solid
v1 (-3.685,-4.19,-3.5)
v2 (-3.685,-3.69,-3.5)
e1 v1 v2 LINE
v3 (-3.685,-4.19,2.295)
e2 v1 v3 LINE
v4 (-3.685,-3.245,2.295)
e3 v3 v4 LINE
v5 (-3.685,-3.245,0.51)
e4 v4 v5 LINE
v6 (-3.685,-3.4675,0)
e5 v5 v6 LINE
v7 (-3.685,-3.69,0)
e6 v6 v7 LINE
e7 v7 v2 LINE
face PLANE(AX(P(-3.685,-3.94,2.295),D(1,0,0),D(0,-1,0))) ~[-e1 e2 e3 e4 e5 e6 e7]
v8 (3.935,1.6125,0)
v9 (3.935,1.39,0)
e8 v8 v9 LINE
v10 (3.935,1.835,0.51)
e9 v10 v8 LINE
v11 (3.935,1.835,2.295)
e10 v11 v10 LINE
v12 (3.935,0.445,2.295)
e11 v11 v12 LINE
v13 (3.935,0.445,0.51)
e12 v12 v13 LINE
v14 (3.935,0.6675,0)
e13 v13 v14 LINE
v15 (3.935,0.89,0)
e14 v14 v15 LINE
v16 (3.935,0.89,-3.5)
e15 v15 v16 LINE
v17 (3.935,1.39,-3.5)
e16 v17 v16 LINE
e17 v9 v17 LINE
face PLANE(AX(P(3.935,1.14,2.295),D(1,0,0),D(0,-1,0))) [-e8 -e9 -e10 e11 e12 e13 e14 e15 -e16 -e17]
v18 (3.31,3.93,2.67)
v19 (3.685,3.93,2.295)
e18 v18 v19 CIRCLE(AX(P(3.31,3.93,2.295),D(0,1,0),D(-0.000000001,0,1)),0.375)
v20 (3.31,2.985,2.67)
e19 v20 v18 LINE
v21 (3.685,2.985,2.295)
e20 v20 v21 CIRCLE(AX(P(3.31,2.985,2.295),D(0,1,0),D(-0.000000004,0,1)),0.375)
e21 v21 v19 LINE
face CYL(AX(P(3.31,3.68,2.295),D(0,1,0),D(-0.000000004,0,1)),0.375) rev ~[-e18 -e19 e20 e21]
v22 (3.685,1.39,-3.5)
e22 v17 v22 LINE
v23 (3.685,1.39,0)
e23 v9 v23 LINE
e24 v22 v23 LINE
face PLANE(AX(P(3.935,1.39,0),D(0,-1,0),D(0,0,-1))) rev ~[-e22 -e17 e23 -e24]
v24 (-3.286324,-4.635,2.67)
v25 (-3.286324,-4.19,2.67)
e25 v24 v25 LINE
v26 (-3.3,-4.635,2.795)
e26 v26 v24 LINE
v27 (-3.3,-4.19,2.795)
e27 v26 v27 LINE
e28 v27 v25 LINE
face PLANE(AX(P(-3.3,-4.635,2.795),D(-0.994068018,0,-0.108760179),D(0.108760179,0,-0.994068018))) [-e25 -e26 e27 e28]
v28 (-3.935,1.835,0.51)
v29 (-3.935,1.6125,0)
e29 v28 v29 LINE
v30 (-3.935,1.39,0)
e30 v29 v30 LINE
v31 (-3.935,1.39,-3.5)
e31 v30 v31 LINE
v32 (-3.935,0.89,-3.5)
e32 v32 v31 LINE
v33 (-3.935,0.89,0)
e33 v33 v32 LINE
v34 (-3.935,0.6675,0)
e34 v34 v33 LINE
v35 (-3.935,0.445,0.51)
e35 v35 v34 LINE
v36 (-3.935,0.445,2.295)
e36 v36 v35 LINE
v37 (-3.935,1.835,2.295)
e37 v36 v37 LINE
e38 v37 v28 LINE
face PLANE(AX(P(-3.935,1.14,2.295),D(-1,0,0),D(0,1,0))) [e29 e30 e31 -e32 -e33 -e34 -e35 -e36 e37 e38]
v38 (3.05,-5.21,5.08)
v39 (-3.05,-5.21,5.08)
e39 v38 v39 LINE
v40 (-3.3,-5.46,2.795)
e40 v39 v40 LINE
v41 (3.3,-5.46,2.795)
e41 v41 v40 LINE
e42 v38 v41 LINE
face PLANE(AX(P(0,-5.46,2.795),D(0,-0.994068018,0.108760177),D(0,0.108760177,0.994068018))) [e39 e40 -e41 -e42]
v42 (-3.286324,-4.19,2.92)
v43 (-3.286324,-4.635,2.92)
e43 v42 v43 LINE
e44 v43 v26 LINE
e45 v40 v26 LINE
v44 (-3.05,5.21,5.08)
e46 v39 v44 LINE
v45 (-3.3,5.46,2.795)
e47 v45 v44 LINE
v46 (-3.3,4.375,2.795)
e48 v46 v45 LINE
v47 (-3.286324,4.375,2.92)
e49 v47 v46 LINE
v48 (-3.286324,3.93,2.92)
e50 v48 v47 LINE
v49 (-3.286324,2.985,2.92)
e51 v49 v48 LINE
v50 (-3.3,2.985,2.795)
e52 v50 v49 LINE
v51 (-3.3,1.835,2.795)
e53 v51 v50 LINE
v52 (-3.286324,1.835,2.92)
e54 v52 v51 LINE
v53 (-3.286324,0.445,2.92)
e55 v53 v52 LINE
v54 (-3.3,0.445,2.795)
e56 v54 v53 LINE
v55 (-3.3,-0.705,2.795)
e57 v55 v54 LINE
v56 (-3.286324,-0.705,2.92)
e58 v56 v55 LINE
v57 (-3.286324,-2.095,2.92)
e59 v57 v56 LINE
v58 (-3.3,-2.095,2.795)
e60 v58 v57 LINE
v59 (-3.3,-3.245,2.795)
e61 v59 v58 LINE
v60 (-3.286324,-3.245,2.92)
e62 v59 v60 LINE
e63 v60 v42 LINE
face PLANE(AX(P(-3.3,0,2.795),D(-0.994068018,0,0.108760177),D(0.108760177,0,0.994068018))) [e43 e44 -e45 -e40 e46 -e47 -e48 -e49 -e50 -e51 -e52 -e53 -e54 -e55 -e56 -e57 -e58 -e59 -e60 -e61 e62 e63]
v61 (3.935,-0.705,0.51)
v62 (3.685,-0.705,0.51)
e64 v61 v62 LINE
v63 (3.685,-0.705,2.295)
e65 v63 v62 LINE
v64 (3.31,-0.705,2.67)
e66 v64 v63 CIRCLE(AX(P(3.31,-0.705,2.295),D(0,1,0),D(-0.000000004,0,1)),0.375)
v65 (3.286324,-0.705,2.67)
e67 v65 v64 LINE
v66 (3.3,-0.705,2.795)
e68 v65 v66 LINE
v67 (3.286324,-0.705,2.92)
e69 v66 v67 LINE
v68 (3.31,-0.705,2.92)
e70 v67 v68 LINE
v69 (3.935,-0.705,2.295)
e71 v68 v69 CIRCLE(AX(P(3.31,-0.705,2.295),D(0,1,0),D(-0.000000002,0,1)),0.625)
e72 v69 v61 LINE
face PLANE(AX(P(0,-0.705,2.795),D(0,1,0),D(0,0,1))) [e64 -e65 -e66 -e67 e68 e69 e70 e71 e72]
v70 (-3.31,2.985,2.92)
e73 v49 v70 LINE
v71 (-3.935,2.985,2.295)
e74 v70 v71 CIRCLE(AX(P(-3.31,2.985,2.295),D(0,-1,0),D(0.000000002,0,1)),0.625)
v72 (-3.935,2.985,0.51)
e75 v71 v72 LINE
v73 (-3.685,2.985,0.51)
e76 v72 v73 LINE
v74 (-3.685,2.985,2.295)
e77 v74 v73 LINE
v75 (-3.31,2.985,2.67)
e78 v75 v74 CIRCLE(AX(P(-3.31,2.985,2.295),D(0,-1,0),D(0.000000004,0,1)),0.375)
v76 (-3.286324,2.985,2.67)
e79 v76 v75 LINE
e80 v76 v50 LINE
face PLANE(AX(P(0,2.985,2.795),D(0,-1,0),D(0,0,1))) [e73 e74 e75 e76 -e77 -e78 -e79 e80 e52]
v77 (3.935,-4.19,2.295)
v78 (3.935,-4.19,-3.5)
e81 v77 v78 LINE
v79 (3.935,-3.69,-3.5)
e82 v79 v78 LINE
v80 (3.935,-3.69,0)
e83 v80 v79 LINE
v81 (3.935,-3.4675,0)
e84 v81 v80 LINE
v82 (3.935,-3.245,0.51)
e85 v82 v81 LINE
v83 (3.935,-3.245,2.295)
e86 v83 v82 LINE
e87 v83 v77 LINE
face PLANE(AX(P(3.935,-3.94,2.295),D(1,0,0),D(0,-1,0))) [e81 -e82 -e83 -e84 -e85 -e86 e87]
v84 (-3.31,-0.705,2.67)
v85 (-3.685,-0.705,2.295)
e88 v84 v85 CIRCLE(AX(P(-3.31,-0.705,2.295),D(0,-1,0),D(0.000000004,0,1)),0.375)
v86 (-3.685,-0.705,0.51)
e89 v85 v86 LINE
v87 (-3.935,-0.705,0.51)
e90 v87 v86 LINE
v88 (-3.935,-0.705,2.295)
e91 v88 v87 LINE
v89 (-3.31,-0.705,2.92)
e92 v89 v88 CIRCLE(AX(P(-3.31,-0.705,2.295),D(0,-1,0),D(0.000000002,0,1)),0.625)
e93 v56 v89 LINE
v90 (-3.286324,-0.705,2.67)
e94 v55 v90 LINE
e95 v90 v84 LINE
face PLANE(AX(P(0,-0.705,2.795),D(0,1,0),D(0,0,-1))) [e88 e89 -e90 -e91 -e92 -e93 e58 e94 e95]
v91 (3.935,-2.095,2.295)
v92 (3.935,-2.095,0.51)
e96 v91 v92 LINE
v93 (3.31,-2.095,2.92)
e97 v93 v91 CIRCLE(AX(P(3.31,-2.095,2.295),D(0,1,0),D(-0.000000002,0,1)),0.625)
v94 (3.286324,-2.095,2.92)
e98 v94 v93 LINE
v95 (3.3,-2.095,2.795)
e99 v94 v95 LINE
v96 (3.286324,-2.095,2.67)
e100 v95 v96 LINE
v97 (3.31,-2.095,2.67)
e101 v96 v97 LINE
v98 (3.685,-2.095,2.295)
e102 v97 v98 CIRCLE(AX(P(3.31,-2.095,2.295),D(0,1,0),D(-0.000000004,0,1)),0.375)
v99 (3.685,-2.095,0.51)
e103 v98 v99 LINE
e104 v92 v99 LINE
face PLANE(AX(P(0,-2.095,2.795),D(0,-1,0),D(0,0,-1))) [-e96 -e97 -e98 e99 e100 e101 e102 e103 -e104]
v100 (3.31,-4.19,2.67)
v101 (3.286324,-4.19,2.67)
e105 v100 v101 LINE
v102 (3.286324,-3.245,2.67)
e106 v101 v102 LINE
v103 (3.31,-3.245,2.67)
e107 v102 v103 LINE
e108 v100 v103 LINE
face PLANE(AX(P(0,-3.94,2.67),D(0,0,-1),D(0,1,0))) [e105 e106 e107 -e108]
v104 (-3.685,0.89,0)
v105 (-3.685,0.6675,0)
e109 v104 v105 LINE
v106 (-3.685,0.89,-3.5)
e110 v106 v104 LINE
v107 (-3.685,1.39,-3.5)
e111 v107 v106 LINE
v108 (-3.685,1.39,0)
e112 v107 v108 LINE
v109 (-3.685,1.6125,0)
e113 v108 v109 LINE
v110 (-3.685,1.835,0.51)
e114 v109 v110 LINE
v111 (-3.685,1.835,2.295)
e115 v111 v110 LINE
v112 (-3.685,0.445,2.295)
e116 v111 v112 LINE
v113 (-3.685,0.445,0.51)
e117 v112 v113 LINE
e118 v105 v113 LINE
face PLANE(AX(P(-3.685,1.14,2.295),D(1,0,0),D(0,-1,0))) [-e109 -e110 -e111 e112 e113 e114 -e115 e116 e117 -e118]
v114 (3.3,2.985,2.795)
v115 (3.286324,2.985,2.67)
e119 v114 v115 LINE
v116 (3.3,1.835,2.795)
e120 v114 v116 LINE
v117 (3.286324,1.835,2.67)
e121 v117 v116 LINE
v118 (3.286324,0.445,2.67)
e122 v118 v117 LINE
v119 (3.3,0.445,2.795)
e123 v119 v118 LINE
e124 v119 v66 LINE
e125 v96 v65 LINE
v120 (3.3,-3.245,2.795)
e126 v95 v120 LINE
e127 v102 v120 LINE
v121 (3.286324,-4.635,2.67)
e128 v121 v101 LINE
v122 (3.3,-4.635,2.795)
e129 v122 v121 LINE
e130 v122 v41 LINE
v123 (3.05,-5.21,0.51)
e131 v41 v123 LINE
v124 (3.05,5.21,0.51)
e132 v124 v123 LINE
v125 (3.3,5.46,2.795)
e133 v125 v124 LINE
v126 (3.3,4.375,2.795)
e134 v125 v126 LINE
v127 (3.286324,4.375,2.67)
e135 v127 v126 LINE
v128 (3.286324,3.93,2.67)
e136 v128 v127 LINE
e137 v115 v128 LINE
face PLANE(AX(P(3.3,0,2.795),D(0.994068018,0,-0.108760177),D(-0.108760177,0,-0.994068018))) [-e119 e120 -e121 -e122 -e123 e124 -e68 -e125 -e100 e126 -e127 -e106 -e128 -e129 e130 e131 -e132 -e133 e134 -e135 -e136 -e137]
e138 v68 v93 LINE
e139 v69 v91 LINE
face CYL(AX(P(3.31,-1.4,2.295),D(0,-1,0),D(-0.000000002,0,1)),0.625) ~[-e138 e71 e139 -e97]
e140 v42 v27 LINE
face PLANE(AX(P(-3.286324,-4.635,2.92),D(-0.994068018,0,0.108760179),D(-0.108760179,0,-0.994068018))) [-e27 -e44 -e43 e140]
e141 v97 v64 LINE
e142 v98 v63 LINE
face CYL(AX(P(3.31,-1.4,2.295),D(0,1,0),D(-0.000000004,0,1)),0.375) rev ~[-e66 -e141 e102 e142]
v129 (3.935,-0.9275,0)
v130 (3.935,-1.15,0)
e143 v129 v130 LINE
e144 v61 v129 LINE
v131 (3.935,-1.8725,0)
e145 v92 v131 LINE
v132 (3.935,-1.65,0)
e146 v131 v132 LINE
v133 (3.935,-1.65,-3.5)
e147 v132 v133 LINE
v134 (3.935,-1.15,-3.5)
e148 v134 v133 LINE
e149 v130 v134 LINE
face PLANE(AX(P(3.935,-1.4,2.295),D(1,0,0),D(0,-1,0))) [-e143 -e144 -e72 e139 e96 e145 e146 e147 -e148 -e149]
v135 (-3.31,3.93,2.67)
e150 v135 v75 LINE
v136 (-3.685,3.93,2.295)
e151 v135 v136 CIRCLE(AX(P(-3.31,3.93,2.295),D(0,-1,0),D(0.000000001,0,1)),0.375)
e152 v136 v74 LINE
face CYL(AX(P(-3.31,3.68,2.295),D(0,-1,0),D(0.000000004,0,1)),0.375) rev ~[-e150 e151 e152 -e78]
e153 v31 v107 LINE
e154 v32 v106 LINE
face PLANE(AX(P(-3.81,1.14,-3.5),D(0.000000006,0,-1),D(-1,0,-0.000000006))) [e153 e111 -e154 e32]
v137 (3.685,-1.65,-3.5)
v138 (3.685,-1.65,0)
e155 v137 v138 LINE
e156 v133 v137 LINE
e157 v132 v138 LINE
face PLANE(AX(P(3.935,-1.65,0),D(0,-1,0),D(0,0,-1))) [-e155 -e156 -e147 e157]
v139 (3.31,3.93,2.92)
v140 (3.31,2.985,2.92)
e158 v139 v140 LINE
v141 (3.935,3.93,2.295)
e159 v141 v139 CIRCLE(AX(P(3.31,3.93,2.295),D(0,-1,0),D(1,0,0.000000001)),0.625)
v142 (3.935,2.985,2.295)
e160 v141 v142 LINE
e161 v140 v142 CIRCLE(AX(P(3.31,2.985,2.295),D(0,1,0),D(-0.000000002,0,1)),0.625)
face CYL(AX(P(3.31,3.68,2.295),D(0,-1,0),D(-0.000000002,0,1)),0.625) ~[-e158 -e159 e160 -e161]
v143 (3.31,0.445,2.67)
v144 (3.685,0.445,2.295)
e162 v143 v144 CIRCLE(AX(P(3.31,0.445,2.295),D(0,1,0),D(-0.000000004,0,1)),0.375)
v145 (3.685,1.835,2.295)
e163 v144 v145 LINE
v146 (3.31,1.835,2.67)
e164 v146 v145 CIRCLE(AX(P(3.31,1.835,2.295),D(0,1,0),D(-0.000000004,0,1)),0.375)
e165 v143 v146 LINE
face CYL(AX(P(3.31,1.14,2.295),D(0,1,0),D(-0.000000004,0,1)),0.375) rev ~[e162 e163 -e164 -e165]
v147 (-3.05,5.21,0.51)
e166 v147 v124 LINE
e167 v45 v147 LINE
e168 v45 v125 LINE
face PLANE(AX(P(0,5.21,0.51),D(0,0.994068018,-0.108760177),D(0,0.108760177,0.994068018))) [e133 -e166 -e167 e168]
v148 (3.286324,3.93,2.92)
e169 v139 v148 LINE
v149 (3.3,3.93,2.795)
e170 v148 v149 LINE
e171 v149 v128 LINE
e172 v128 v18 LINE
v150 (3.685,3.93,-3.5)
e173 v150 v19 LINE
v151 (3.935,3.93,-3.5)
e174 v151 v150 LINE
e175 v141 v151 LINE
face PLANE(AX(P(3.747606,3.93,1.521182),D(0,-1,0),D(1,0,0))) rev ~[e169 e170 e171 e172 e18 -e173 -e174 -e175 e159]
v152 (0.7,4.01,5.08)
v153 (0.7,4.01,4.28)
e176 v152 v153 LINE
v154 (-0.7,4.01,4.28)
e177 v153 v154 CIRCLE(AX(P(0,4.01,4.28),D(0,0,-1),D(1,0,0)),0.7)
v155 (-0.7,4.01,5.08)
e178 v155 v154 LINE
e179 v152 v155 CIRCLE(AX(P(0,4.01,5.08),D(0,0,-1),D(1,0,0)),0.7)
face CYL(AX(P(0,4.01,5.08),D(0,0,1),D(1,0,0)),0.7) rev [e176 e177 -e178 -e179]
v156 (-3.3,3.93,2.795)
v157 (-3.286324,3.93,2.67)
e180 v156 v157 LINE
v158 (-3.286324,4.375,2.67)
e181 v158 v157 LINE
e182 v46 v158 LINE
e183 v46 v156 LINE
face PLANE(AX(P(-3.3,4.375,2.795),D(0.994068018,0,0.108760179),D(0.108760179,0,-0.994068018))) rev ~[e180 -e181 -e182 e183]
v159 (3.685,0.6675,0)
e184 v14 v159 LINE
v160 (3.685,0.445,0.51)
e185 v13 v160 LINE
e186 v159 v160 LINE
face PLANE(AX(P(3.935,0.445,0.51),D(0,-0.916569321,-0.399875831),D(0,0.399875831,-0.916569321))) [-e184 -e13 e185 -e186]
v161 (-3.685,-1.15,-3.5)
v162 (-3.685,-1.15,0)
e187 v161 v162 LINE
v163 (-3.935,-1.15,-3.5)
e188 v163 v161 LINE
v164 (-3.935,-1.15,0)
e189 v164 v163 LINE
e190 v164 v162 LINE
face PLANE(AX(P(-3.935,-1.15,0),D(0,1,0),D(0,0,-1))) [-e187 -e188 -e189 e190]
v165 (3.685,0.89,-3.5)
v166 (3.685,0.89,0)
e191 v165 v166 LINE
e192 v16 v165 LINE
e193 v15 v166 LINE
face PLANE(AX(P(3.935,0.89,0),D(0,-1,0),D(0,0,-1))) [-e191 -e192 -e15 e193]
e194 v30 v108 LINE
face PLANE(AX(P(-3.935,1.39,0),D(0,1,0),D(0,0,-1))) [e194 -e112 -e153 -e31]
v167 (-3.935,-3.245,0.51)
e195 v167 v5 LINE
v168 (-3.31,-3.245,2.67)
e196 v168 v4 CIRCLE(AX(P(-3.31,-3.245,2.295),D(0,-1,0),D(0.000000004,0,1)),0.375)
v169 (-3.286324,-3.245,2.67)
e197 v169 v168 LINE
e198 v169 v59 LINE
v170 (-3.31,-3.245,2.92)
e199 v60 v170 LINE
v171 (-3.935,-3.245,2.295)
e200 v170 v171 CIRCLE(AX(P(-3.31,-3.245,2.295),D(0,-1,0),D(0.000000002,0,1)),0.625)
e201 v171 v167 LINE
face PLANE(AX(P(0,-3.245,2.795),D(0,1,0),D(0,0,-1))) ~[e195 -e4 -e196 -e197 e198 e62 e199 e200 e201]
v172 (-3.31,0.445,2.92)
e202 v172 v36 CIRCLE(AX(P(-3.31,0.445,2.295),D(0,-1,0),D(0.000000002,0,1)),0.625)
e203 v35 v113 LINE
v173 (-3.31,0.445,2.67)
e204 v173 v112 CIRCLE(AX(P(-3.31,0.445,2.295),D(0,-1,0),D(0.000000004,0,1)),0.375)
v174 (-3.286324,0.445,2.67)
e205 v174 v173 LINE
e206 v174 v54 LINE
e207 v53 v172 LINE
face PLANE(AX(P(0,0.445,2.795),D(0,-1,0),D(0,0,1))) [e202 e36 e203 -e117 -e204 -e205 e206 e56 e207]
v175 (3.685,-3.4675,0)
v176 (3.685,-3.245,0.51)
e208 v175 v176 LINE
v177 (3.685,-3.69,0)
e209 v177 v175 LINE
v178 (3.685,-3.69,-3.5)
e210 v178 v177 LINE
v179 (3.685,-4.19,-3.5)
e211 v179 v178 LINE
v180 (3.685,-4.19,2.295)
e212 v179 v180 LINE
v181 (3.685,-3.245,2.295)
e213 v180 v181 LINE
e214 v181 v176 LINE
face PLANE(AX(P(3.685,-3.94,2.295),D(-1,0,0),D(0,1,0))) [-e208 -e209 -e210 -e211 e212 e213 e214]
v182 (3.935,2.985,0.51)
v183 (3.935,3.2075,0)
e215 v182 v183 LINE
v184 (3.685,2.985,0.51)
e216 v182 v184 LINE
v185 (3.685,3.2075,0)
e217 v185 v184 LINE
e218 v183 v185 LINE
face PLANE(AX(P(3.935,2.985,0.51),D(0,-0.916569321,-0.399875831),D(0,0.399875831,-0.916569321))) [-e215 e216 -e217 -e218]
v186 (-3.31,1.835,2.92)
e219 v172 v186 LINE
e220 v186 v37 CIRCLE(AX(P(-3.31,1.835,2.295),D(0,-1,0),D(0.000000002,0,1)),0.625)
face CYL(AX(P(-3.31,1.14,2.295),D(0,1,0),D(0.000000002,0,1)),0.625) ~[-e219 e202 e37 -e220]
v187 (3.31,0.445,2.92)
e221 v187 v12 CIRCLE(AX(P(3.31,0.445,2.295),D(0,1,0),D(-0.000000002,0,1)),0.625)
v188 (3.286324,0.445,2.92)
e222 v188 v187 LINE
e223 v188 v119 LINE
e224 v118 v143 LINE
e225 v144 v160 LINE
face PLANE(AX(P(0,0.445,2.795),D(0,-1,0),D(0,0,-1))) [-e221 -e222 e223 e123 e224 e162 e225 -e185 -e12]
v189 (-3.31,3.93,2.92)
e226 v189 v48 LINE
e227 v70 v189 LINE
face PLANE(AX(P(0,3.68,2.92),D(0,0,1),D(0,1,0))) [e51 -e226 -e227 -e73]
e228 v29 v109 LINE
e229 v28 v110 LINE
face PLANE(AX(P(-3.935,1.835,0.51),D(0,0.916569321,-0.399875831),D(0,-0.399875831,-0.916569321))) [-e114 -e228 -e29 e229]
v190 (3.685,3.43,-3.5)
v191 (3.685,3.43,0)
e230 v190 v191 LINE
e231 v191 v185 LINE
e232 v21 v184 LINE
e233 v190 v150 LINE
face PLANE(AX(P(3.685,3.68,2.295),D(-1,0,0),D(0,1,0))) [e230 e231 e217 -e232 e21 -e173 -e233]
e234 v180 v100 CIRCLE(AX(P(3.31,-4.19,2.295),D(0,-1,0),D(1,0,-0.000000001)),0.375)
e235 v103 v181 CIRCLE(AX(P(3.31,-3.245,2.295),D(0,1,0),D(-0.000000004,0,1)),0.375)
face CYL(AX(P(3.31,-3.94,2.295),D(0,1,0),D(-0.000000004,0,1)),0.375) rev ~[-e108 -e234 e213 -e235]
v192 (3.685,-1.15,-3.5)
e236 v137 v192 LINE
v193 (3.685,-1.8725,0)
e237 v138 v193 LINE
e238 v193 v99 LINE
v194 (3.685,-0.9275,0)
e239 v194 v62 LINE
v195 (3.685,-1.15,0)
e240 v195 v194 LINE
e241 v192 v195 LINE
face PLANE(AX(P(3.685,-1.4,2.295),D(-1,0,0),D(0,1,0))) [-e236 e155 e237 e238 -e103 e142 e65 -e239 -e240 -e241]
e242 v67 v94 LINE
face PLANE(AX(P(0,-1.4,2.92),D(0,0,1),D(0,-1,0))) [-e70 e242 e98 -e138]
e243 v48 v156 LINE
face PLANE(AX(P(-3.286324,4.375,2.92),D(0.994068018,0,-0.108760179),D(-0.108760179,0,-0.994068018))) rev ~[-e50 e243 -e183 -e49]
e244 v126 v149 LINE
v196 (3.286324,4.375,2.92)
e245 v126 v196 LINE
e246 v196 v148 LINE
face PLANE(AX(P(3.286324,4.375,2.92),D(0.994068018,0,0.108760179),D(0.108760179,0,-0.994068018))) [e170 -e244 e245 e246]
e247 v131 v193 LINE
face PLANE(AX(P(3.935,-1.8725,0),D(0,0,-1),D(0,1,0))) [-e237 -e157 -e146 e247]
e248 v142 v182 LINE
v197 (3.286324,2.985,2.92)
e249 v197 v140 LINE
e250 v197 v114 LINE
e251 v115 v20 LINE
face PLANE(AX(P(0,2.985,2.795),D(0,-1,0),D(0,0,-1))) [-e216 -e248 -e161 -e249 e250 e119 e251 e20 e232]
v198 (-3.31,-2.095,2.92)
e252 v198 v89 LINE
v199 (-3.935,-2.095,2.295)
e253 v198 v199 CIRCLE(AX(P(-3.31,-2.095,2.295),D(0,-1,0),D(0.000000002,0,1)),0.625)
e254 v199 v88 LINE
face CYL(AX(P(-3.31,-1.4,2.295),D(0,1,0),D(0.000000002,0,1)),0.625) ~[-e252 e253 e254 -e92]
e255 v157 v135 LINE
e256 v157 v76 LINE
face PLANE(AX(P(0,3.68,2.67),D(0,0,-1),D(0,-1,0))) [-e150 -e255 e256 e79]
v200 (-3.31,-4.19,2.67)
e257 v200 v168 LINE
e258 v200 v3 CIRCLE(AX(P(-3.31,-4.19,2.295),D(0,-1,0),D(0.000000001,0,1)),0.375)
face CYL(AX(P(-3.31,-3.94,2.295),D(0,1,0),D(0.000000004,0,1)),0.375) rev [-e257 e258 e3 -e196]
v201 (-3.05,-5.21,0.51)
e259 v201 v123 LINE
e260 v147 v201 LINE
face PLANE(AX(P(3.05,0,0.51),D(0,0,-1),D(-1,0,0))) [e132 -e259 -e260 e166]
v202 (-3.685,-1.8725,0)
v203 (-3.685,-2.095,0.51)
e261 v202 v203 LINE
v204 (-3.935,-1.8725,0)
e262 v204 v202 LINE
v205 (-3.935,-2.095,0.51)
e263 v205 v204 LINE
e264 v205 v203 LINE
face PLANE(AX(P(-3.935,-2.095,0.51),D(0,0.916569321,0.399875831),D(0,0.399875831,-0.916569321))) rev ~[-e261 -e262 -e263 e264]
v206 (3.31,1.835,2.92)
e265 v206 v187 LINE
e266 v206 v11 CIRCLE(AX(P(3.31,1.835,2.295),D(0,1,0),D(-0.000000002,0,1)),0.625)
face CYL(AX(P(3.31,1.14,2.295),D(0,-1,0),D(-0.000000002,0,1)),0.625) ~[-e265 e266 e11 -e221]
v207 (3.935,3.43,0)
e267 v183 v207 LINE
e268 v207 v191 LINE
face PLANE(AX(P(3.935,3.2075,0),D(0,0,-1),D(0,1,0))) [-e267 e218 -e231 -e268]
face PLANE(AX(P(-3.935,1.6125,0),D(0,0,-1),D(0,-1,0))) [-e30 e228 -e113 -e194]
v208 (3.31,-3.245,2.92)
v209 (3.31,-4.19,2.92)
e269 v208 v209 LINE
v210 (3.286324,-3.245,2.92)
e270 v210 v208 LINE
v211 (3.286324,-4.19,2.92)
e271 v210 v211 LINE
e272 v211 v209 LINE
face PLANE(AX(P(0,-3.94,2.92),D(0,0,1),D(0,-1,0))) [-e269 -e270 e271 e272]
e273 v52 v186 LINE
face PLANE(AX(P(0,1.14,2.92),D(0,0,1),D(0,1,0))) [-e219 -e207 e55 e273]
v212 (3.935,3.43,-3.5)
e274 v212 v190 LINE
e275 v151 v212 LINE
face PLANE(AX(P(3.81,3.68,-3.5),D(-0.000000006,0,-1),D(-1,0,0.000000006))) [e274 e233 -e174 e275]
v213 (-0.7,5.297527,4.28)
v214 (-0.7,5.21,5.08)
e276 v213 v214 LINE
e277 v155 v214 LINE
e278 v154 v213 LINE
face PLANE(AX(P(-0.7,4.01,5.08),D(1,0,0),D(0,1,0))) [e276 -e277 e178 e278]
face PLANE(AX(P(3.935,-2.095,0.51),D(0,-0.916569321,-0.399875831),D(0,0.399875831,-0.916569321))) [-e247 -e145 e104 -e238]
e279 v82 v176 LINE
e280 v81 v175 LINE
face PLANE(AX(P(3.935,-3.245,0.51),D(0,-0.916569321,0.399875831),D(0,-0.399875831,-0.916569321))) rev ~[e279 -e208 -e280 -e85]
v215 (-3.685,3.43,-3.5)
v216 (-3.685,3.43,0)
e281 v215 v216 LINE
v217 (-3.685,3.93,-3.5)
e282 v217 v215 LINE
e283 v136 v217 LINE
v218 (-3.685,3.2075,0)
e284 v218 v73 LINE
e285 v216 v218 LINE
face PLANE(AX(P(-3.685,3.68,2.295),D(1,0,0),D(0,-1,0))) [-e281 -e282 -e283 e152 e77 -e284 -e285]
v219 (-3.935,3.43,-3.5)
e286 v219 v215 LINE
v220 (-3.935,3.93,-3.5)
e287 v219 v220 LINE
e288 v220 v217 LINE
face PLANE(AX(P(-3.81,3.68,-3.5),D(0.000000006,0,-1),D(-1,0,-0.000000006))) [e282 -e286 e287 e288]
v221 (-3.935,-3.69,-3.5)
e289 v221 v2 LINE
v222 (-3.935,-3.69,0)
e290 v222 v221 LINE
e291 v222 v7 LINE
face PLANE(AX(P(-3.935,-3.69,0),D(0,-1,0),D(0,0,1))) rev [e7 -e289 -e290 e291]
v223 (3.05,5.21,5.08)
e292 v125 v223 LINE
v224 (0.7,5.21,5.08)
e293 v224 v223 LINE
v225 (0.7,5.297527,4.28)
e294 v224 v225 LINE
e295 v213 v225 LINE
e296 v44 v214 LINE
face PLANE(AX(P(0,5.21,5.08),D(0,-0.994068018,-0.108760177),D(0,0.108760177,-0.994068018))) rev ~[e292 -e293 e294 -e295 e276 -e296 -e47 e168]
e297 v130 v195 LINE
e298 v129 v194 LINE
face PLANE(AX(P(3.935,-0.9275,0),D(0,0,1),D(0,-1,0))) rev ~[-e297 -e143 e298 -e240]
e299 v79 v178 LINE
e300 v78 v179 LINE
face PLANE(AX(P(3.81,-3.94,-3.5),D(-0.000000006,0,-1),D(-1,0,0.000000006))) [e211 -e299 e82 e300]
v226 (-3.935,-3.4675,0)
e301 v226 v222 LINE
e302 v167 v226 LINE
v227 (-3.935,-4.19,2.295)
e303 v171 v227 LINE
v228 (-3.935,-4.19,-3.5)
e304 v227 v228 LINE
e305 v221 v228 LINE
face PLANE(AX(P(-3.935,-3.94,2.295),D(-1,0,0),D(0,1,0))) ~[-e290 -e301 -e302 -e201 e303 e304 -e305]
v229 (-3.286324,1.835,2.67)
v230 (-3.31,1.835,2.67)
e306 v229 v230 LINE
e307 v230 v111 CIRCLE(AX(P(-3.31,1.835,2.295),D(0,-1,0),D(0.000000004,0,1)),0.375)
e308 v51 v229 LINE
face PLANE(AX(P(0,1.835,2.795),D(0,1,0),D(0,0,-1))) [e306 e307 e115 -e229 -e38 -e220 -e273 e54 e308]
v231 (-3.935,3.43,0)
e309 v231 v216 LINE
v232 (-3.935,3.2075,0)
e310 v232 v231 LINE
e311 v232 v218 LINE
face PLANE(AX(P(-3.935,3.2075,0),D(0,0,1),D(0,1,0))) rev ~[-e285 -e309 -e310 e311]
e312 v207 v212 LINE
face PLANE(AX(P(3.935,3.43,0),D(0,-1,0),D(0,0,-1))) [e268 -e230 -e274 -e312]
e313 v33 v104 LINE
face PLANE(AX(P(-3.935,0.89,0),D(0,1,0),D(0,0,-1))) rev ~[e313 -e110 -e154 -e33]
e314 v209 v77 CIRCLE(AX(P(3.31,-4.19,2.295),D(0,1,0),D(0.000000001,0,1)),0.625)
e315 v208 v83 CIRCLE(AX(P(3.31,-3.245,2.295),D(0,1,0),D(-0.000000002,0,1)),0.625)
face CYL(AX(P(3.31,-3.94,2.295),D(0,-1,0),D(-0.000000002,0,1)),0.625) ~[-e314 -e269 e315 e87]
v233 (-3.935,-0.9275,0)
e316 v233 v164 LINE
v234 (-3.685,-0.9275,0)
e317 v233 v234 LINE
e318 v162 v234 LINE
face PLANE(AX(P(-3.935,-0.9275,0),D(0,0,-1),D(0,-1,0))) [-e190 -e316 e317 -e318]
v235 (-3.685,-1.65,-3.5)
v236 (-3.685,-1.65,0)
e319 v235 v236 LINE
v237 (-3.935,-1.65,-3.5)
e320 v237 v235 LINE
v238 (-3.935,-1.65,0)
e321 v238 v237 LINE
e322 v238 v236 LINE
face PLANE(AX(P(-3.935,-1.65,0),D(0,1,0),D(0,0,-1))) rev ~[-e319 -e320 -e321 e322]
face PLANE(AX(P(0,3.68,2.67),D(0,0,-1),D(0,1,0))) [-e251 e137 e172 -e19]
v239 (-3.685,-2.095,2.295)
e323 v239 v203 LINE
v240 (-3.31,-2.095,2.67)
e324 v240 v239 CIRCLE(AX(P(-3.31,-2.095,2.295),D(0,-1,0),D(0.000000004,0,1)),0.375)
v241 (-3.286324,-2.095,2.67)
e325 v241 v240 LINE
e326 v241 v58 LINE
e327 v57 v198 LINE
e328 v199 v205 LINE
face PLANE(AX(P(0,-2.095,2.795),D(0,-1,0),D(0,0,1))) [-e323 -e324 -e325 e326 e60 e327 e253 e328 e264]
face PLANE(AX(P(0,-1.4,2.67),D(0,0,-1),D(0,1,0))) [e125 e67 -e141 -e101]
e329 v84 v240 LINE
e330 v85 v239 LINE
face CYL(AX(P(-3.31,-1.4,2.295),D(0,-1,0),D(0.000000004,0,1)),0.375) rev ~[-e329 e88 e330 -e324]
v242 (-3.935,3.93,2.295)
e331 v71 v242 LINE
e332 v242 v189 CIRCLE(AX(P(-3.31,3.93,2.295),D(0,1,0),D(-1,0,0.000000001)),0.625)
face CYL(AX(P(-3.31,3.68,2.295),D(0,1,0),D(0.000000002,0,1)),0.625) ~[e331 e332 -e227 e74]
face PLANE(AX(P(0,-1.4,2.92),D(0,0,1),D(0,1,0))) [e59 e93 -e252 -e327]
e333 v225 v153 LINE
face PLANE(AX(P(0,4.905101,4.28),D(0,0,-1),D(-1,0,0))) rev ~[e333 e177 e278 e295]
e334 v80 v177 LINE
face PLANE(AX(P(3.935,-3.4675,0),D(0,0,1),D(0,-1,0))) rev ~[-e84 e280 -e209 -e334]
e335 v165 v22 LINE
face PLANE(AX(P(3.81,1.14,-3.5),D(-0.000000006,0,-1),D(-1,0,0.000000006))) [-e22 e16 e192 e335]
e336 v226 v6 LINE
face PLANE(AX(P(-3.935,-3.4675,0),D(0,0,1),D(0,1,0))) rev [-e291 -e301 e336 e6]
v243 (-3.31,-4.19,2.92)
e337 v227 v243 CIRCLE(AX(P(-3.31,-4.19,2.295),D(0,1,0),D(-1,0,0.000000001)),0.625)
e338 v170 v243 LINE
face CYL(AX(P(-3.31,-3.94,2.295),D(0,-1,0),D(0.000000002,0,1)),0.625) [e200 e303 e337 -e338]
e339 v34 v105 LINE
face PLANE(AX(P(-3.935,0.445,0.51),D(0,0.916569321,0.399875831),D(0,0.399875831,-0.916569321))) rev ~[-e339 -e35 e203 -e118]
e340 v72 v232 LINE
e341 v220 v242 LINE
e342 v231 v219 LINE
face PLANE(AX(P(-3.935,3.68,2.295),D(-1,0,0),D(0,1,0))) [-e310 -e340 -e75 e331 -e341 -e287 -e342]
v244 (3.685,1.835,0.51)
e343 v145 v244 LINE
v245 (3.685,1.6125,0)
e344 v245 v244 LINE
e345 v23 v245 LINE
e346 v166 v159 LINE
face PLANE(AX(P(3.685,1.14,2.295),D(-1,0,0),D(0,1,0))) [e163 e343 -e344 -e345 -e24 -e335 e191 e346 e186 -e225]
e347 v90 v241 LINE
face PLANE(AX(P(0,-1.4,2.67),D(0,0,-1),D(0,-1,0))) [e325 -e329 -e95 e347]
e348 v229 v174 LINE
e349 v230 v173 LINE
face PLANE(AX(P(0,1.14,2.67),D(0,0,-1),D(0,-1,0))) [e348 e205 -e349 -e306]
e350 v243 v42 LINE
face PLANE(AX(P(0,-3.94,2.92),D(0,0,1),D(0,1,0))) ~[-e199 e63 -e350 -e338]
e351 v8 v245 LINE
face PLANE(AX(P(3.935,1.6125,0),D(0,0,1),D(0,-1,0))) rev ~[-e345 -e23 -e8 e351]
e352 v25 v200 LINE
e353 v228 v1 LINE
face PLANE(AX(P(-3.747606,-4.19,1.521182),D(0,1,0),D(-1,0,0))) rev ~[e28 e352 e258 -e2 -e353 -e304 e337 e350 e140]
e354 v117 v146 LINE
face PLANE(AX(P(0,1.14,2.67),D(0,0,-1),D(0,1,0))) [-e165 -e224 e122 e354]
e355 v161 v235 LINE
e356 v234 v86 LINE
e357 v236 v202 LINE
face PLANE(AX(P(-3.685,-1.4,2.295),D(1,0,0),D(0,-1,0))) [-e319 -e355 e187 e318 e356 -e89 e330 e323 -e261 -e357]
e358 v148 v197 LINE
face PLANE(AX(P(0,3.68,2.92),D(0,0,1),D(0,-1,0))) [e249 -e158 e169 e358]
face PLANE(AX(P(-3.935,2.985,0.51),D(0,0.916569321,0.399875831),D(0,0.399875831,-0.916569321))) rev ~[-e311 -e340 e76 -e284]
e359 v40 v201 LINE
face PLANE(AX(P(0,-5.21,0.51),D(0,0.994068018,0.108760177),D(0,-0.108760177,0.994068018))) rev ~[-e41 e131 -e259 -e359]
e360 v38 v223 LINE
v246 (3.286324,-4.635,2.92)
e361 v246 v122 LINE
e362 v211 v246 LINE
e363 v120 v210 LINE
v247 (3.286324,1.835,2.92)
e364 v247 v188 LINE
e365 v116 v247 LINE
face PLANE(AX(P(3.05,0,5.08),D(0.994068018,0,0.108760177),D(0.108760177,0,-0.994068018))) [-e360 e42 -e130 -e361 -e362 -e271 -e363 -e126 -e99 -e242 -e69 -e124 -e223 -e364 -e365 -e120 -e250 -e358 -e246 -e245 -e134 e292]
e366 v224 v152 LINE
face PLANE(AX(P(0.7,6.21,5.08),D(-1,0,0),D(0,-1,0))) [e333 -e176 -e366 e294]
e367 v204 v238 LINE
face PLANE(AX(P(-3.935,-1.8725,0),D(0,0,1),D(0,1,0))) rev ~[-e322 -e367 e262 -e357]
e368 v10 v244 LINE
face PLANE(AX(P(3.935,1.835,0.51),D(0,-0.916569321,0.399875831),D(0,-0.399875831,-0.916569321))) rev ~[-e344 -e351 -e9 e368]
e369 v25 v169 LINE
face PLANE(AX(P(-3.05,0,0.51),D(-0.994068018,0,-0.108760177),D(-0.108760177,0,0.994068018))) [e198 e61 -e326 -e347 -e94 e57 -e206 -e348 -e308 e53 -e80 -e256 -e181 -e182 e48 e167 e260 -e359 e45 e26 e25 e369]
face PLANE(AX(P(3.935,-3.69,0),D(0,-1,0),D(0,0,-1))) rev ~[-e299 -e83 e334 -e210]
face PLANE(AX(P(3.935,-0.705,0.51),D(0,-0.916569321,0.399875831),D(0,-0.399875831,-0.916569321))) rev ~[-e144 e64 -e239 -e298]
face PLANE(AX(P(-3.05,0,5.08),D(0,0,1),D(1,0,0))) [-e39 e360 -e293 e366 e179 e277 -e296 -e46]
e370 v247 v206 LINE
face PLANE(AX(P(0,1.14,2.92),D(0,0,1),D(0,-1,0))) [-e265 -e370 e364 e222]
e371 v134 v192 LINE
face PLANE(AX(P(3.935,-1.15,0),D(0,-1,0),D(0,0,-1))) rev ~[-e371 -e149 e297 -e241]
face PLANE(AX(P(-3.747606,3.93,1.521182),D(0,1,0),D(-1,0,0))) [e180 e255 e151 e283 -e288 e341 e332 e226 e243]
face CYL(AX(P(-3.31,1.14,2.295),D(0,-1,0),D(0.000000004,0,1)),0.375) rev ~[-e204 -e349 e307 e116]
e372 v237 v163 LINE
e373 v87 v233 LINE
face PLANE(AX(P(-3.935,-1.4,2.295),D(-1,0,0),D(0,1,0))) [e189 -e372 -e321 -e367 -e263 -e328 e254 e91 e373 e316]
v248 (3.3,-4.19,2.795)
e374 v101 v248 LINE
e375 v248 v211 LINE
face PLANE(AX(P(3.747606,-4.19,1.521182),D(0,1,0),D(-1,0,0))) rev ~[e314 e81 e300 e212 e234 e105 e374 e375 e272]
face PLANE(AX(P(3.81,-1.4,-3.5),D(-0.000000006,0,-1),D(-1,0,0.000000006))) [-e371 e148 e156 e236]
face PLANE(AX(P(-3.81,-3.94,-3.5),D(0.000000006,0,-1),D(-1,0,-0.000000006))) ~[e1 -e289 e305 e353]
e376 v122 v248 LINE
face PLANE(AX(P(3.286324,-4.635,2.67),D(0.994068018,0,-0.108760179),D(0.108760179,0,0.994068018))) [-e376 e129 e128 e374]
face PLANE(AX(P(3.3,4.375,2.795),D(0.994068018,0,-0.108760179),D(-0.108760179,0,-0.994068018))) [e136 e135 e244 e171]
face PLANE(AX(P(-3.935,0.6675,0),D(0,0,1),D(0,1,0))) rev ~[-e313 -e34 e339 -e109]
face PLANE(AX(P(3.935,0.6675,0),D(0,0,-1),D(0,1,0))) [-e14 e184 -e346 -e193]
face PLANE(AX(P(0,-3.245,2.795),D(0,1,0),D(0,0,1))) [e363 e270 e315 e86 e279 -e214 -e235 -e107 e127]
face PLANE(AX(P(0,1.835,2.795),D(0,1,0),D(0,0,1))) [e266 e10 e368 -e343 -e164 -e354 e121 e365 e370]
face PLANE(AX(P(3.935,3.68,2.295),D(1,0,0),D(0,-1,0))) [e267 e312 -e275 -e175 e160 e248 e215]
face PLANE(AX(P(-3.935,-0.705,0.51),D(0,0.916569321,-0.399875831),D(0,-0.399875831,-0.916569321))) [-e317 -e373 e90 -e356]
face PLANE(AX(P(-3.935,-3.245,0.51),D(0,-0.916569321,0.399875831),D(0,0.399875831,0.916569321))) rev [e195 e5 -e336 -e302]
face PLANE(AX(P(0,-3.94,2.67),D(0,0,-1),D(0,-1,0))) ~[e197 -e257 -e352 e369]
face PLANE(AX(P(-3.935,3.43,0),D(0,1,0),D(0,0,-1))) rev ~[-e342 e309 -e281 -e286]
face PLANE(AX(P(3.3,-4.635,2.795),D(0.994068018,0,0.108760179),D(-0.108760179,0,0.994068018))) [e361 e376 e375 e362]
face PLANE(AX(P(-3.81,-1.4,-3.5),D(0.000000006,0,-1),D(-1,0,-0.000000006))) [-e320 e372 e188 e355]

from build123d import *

# Parameters (mm, degrees)
BASIC_SHAPE_DEPTH              = 5.46
SIDE_PROFILE1_DEPTH            = 4.3
SIDE_PROFILE1_DEPTH_BACK       = 4.3
SIDE_PROFILE2_DEPTH            = 4.3
SIDE_PROFILE2_DEPTH_BACK       = 4.3
LOCATION_MARK_DEPTH            = 0.8
SKETCH6_W                      = 0.25
SKETCH6_H                      = 1.39
PIN_RELIEF_DEPTH               = 8.235
REMAINING_PINS_COUNT           = 4
REMAINING_PINS_PITCH           = 2.54
REMAINING_PINS_COPY_1_SKETCH_W = 0.25
REMAINING_PINS_COPY_1_SKETCH_H = 1.39
REMAINING_PINS_COPY_2_SKETCH_W = 0.25
REMAINING_PINS_COPY_2_SKETCH_H = 1.39
REMAINING_PINS_COPY_3_SKETCH_W = 0.25
REMAINING_PINS_COPY_3_SKETCH_H = 1.39
REMAINING_PINS_COPY_4_DEPTH    = 8.235
REMAINING_PINS_COPY_5_DEPTH    = 8.235
REMAINING_PINS_COPY_6_DEPTH    = 8.235
PIN_SHAPE1_DEPTH               = 0.445
PIN_SHAPE2_DEPTH               = 0.445


with BuildPart() as part:
    # Sketch1 → Basic Shape (new body, symmetric)
    with BuildSketch(Plane(origin=(0, 0, 0), x_dir=(1, 0, 0), z_dir=(0, 1, 0))):
        Polygon((-3.05, -0.51), (-3.3, -2.795), (-3.05, -5.08), (3.05, -5.08), (3.3, -2.795), (3.05, -0.51), align=None)
    extrude(amount=BASIC_SHAPE_DEPTH, both=True)

    # Sketch2 → Side Profile1 (cut, two sides)
    with BuildSketch(Plane(origin=(0, 0, 0), x_dir=(0, 0, -1), z_dir=(1, 0, 0))) as side_profile1_sk:
        Polygon((-5.08, 5.46), (-5.08, 5.21), (-2.795, 5.46), align=None)
        Polygon((-5.08, -5.46), (-2.795, -5.46), (-5.08, -5.21), align=None)
    extrude(amount=SIDE_PROFILE1_DEPTH, mode=Mode.SUBTRACT)
    extrude(side_profile1_sk.sketch, amount=-SIDE_PROFILE1_DEPTH_BACK, mode=Mode.SUBTRACT)

    # Sketch3 → Side Profile2 (cut, two sides)
    with BuildSketch(Plane(origin=(0, 0, 0), x_dir=(0, 0, -1), z_dir=(1, 0, 0))) as side_profile2_sk:
        Polygon((-2.795, 5.46), (-0.51, 5.46), (-0.51, 5.21), align=None)
        Polygon((-2.795, -5.46), (-0.51, -5.46), (-0.51, -5.21), align=None)
    extrude(amount=SIDE_PROFILE2_DEPTH, mode=Mode.SUBTRACT)
    extrude(side_profile2_sk.sketch, amount=-SIDE_PROFILE2_DEPTH_BACK, mode=Mode.SUBTRACT)

    # Sketch4 → Location Mark (cut)
    with BuildSketch(Plane(origin=(0, 0, 5.08), x_dir=(-1, 0, 0), z_dir=(0, 0, -1))):
        with BuildLine():
            Line((0.7, 6.21), (-0.7, 6.21))
            Line((-0.7, 6.21), (-0.7, 5.21))
            Line((-0.7, 5.21), (-0.7, 4.01))
            ThreePointArc((-0.7, 4.01), (0, 3.31), (0.7, 4.01))
            Line((0.7, 4.01), (0.7, 5.21))
            Line((0.7, 5.21), (0.7, 6.21))
        make_face()
    extrude(amount=LOCATION_MARK_DEPTH, mode=Mode.SUBTRACT)

    # First Pin: sweep along a path in Sketch5
    with BuildLine(Plane(origin=(0, -3.94, 0), x_dir=(1, 0, 0), z_dir=(0, 1, 0))) as first_pin_path:
        Line((0, -2.795), (3.31, -2.795))
        ThreePointArc((3.31, -2.795), (3.663553391, -2.648553391), (3.81, -2.295))
        Line((3.81, -2.295), (3.81, 3.5))
    # Sketch6 → First Pin (sweep)
    with BuildSketch(Plane(origin=(0, 0, 0), x_dir=(0, 0, -1), z_dir=(1, 0, 0))):
        with Locations((-2.795, -3.94)):
            Rectangle(SKETCH6_W, SKETCH6_H)
    first_pin = sweep(path=first_pin_path.line)

    # Sketch7 → Pin Relief (cut, through all)
    with BuildSketch(Plane(origin=(3.935, 0, 0), x_dir=(0, 0, -1), z_dir=(1, 0, 0))):
        Polygon((0, -4.19), (3.5, -4.19), (3.5, -4.635), (-0.51, -4.635), (0, -4.4125), align=None)
        Polygon((0, -3.69), (3.5, -3.69), (3.5, -3.245), (-0.51, -3.245), (0, -3.4675), align=None)
    pin_relief = extrude(amount=-PIN_RELIEF_DEPTH, mode=Mode.SUBTRACT)

    # Opp Pin: First Pin, Pin Relief across plane
    add(first_pin.mirror(Plane(origin=(0, 0, 0), x_dir=(0, 0, 1), z_dir=(1, 0, 0))))
    add(pin_relief.mirror(Plane(origin=(0, 0, 0), x_dir=(0, 0, 1), z_dir=(1, 0, 0))), mode=Mode.SUBTRACT)

    # Remaining Pins: First Pin, Pin Relief ×4
    with Locations(*[(0, i * REMAINING_PINS_PITCH, 0) for i in range(1, REMAINING_PINS_COUNT)]):
        add(first_pin)
        add(pin_relief, mode=Mode.SUBTRACT)

    # Remaining Pins copy 1: sweep along a path in Remaining Pins copy 1 path
    with BuildLine(Plane(origin=(0, -1.4, 0), x_dir=(-1, 0, 0), z_dir=(0, 1, 0))) as remaining_pins_copy_1_path:
        Line((0, 2.795), (3.31, 2.795))
        ThreePointArc((3.31, 2.795), (3.663553391, 2.648553391), (3.81, 2.295))
        Line((3.81, 2.295), (3.81, -3.5))
    # Remaining Pins copy 1 sketch → Remaining Pins copy 1 (sweep)
    with BuildSketch(Plane(origin=(0, 2.54, 0), x_dir=(0, 0, -1), z_dir=(-1, 0, 0))):
        with Locations((-2.795, 3.94)):
            Rectangle(REMAINING_PINS_COPY_1_SKETCH_W, REMAINING_PINS_COPY_1_SKETCH_H)
    sweep(path=remaining_pins_copy_1_path.line)

    # Remaining Pins copy 2: sweep along a path in Remaining Pins copy 2 path
    with BuildLine(Plane(origin=(0, 1.14, 0), x_dir=(-1, 0, 0), z_dir=(0, 1, 0))) as remaining_pins_copy_2_path:
        Line((0, 2.795), (3.31, 2.795))
        ThreePointArc((3.31, 2.795), (3.663553391, 2.648553391), (3.81, 2.295))
        Line((3.81, 2.295), (3.81, -3.5))
    # Remaining Pins copy 2 sketch → Remaining Pins copy 2 (sweep)
    with BuildSketch(Plane(origin=(0, 5.08, 0), x_dir=(0, 0, -1), z_dir=(-1, 0, 0))):
        with Locations((-2.795, 3.94)):
            Rectangle(REMAINING_PINS_COPY_2_SKETCH_W, REMAINING_PINS_COPY_2_SKETCH_H)
    sweep(path=remaining_pins_copy_2_path.line)

    # Remaining Pins copy 3: sweep along a path in Remaining Pins copy 3 path
    with BuildLine(Plane(origin=(0, 3.68, 0), x_dir=(-1, 0, 0), z_dir=(0, 1, 0))) as remaining_pins_copy_3_path:
        Line((0, 2.795), (3.31, 2.795))
        ThreePointArc((3.31, 2.795), (3.663553391, 2.648553391), (3.81, 2.295))
        Line((3.81, 2.295), (3.81, -3.5))
    # Remaining Pins copy 3 sketch → Remaining Pins copy 3 (sweep)
    with BuildSketch(Plane(origin=(0, 7.62, 0), x_dir=(0, 0, -1), z_dir=(-1, 0, 0))):
        with Locations((-2.795, 3.94)):
            Rectangle(REMAINING_PINS_COPY_3_SKETCH_W, REMAINING_PINS_COPY_3_SKETCH_H)
    sweep(path=remaining_pins_copy_3_path.line)

    # Remaining Pins copy 4 sketch → Remaining Pins copy 4 (cut, through all)
    with BuildSketch(Plane(origin=(-3.935, 2.54, 0), x_dir=(0, 0, -1), z_dir=(-1, 0, 0))):
        Polygon((0, 4.19), (3.5, 4.19), (3.5, 4.635), (-0.51, 4.635), (0, 4.4125), align=None)
        Polygon((0, 3.69), (3.5, 3.69), (3.5, 3.245), (-0.51, 3.245), (0, 3.4675), align=None)
    extrude(amount=-REMAINING_PINS_COPY_4_DEPTH, mode=Mode.SUBTRACT)

    # Remaining Pins copy 5 sketch → Remaining Pins copy 5 (cut, through all)
    with BuildSketch(Plane(origin=(-3.935, 5.08, 0), x_dir=(0, 0, -1), z_dir=(-1, 0, 0))):
        Polygon((0, 4.19), (3.5, 4.19), (3.5, 4.635), (-0.51, 4.635), (0, 4.4125), align=None)
        Polygon((0, 3.69), (3.5, 3.69), (3.5, 3.245), (-0.51, 3.245), (0, 3.4675), align=None)
    extrude(amount=-REMAINING_PINS_COPY_5_DEPTH, mode=Mode.SUBTRACT)

    # Remaining Pins copy 6 sketch → Remaining Pins copy 6 (cut, through all)
    with BuildSketch(Plane(origin=(-3.935, 7.62, 0), x_dir=(0, 0, -1), z_dir=(-1, 0, 0))):
        Polygon((0, 4.19), (3.5, 4.19), (3.5, 4.635), (-0.51, 4.635), (0, 4.4125), align=None)
        Polygon((0, 3.69), (3.5, 3.69), (3.5, 3.245), (-0.51, 3.245), (0, 3.4675), align=None)
    extrude(amount=-REMAINING_PINS_COPY_6_DEPTH, mode=Mode.SUBTRACT)

    # Sketch9 → Pin Shape1 (cut)
    with BuildSketch(Plane.XZ.offset(4.635)):
        with BuildLine():
            Line((3.935, 0), (3.685, 0))
            Line((3.685, 0), (3.685, 2.295))
            ThreePointArc((3.685, 2.295), (3.575165043, 2.560165043), (3.31, 2.67))
            Line((3.31, 2.67), (3.286323851, 2.67))
            Line((3.286323851, 2.67), (3.3, 2.795))
            Line((3.3, 2.795), (3.286323851, 2.92))
            Line((3.286323851, 2.92), (3.31, 2.92))
            ThreePointArc((3.31, 2.92), (3.751941738, 2.736941738), (3.935, 2.295))
            Line((3.935, 2.295), (3.935, 0))
        make_face()
        with BuildLine():
            Line((-3.685, 0), (-3.935, 0))
            Line((-3.935, 0), (-3.935, 2.295))
            ThreePointArc((-3.935, 2.295), (-3.751941738, 2.736941738), (-3.31, 2.92))
            Line((-3.31, 2.92), (-3.286323851, 2.92))
            Line((-3.286323851, 2.92), (-3.3, 2.795))
            Line((-3.3, 2.795), (-3.286323851, 2.67))
            Line((-3.286323851, 2.67), (-3.31, 2.67))
            ThreePointArc((-3.31, 2.67), (-3.575165043, 2.560165043), (-3.685, 2.295))
            Line((-3.685, 2.295), (-3.685, 0))
        make_face()
    extrude(amount=-PIN_SHAPE1_DEPTH, mode=Mode.SUBTRACT)

    # Sketch10 → Pin Shape2 (cut)
    with BuildSketch(Plane(origin=(0, 4.375, 0), x_dir=(-1, 0, 0), z_dir=(0, 1, 0))):
        with BuildLine():
            Line((3.685, 0), (3.935, 0))
            Line((3.935, 0), (3.935, 2.295))
            ThreePointArc((3.935, 2.295), (3.751941738, 2.736941738), (3.31, 2.92))
            Line((3.31, 2.92), (3.286323851, 2.92))
            Line((3.286323851, 2.92), (3.3, 2.795))
            Line((3.3, 2.795), (3.286323851, 2.67))
            Line((3.286323851, 2.67), (3.31, 2.67))
            ThreePointArc((3.31, 2.67), (3.575165043, 2.560165043), (3.685, 2.295))
            Line((3.685, 2.295), (3.685, 0))
        make_face()
        with BuildLine():
            Line((-3.685, 0), (-3.935, 0))
            Line((-3.935, 0), (-3.935, 2.295))
            ThreePointArc((-3.935, 2.295), (-3.751941738, 2.736941738), (-3.31, 2.92))
            Line((-3.31, 2.92), (-3.286323851, 2.92))
            Line((-3.286323851, 2.92), (-3.3, 2.795))
            Line((-3.3, 2.795), (-3.286323851, 2.67))
            Line((-3.286323851, 2.67), (-3.31, 2.67))
            ThreePointArc((-3.31, 2.67), (-3.575165043, 2.560165043), (-3.685, 2.295))
            Line((-3.685, 2.295), (-3.685, 0))
        make_face()
    extrude(amount=-PIN_SHAPE2_DEPTH, mode=Mode.SUBTRACT)


solid = part.part
